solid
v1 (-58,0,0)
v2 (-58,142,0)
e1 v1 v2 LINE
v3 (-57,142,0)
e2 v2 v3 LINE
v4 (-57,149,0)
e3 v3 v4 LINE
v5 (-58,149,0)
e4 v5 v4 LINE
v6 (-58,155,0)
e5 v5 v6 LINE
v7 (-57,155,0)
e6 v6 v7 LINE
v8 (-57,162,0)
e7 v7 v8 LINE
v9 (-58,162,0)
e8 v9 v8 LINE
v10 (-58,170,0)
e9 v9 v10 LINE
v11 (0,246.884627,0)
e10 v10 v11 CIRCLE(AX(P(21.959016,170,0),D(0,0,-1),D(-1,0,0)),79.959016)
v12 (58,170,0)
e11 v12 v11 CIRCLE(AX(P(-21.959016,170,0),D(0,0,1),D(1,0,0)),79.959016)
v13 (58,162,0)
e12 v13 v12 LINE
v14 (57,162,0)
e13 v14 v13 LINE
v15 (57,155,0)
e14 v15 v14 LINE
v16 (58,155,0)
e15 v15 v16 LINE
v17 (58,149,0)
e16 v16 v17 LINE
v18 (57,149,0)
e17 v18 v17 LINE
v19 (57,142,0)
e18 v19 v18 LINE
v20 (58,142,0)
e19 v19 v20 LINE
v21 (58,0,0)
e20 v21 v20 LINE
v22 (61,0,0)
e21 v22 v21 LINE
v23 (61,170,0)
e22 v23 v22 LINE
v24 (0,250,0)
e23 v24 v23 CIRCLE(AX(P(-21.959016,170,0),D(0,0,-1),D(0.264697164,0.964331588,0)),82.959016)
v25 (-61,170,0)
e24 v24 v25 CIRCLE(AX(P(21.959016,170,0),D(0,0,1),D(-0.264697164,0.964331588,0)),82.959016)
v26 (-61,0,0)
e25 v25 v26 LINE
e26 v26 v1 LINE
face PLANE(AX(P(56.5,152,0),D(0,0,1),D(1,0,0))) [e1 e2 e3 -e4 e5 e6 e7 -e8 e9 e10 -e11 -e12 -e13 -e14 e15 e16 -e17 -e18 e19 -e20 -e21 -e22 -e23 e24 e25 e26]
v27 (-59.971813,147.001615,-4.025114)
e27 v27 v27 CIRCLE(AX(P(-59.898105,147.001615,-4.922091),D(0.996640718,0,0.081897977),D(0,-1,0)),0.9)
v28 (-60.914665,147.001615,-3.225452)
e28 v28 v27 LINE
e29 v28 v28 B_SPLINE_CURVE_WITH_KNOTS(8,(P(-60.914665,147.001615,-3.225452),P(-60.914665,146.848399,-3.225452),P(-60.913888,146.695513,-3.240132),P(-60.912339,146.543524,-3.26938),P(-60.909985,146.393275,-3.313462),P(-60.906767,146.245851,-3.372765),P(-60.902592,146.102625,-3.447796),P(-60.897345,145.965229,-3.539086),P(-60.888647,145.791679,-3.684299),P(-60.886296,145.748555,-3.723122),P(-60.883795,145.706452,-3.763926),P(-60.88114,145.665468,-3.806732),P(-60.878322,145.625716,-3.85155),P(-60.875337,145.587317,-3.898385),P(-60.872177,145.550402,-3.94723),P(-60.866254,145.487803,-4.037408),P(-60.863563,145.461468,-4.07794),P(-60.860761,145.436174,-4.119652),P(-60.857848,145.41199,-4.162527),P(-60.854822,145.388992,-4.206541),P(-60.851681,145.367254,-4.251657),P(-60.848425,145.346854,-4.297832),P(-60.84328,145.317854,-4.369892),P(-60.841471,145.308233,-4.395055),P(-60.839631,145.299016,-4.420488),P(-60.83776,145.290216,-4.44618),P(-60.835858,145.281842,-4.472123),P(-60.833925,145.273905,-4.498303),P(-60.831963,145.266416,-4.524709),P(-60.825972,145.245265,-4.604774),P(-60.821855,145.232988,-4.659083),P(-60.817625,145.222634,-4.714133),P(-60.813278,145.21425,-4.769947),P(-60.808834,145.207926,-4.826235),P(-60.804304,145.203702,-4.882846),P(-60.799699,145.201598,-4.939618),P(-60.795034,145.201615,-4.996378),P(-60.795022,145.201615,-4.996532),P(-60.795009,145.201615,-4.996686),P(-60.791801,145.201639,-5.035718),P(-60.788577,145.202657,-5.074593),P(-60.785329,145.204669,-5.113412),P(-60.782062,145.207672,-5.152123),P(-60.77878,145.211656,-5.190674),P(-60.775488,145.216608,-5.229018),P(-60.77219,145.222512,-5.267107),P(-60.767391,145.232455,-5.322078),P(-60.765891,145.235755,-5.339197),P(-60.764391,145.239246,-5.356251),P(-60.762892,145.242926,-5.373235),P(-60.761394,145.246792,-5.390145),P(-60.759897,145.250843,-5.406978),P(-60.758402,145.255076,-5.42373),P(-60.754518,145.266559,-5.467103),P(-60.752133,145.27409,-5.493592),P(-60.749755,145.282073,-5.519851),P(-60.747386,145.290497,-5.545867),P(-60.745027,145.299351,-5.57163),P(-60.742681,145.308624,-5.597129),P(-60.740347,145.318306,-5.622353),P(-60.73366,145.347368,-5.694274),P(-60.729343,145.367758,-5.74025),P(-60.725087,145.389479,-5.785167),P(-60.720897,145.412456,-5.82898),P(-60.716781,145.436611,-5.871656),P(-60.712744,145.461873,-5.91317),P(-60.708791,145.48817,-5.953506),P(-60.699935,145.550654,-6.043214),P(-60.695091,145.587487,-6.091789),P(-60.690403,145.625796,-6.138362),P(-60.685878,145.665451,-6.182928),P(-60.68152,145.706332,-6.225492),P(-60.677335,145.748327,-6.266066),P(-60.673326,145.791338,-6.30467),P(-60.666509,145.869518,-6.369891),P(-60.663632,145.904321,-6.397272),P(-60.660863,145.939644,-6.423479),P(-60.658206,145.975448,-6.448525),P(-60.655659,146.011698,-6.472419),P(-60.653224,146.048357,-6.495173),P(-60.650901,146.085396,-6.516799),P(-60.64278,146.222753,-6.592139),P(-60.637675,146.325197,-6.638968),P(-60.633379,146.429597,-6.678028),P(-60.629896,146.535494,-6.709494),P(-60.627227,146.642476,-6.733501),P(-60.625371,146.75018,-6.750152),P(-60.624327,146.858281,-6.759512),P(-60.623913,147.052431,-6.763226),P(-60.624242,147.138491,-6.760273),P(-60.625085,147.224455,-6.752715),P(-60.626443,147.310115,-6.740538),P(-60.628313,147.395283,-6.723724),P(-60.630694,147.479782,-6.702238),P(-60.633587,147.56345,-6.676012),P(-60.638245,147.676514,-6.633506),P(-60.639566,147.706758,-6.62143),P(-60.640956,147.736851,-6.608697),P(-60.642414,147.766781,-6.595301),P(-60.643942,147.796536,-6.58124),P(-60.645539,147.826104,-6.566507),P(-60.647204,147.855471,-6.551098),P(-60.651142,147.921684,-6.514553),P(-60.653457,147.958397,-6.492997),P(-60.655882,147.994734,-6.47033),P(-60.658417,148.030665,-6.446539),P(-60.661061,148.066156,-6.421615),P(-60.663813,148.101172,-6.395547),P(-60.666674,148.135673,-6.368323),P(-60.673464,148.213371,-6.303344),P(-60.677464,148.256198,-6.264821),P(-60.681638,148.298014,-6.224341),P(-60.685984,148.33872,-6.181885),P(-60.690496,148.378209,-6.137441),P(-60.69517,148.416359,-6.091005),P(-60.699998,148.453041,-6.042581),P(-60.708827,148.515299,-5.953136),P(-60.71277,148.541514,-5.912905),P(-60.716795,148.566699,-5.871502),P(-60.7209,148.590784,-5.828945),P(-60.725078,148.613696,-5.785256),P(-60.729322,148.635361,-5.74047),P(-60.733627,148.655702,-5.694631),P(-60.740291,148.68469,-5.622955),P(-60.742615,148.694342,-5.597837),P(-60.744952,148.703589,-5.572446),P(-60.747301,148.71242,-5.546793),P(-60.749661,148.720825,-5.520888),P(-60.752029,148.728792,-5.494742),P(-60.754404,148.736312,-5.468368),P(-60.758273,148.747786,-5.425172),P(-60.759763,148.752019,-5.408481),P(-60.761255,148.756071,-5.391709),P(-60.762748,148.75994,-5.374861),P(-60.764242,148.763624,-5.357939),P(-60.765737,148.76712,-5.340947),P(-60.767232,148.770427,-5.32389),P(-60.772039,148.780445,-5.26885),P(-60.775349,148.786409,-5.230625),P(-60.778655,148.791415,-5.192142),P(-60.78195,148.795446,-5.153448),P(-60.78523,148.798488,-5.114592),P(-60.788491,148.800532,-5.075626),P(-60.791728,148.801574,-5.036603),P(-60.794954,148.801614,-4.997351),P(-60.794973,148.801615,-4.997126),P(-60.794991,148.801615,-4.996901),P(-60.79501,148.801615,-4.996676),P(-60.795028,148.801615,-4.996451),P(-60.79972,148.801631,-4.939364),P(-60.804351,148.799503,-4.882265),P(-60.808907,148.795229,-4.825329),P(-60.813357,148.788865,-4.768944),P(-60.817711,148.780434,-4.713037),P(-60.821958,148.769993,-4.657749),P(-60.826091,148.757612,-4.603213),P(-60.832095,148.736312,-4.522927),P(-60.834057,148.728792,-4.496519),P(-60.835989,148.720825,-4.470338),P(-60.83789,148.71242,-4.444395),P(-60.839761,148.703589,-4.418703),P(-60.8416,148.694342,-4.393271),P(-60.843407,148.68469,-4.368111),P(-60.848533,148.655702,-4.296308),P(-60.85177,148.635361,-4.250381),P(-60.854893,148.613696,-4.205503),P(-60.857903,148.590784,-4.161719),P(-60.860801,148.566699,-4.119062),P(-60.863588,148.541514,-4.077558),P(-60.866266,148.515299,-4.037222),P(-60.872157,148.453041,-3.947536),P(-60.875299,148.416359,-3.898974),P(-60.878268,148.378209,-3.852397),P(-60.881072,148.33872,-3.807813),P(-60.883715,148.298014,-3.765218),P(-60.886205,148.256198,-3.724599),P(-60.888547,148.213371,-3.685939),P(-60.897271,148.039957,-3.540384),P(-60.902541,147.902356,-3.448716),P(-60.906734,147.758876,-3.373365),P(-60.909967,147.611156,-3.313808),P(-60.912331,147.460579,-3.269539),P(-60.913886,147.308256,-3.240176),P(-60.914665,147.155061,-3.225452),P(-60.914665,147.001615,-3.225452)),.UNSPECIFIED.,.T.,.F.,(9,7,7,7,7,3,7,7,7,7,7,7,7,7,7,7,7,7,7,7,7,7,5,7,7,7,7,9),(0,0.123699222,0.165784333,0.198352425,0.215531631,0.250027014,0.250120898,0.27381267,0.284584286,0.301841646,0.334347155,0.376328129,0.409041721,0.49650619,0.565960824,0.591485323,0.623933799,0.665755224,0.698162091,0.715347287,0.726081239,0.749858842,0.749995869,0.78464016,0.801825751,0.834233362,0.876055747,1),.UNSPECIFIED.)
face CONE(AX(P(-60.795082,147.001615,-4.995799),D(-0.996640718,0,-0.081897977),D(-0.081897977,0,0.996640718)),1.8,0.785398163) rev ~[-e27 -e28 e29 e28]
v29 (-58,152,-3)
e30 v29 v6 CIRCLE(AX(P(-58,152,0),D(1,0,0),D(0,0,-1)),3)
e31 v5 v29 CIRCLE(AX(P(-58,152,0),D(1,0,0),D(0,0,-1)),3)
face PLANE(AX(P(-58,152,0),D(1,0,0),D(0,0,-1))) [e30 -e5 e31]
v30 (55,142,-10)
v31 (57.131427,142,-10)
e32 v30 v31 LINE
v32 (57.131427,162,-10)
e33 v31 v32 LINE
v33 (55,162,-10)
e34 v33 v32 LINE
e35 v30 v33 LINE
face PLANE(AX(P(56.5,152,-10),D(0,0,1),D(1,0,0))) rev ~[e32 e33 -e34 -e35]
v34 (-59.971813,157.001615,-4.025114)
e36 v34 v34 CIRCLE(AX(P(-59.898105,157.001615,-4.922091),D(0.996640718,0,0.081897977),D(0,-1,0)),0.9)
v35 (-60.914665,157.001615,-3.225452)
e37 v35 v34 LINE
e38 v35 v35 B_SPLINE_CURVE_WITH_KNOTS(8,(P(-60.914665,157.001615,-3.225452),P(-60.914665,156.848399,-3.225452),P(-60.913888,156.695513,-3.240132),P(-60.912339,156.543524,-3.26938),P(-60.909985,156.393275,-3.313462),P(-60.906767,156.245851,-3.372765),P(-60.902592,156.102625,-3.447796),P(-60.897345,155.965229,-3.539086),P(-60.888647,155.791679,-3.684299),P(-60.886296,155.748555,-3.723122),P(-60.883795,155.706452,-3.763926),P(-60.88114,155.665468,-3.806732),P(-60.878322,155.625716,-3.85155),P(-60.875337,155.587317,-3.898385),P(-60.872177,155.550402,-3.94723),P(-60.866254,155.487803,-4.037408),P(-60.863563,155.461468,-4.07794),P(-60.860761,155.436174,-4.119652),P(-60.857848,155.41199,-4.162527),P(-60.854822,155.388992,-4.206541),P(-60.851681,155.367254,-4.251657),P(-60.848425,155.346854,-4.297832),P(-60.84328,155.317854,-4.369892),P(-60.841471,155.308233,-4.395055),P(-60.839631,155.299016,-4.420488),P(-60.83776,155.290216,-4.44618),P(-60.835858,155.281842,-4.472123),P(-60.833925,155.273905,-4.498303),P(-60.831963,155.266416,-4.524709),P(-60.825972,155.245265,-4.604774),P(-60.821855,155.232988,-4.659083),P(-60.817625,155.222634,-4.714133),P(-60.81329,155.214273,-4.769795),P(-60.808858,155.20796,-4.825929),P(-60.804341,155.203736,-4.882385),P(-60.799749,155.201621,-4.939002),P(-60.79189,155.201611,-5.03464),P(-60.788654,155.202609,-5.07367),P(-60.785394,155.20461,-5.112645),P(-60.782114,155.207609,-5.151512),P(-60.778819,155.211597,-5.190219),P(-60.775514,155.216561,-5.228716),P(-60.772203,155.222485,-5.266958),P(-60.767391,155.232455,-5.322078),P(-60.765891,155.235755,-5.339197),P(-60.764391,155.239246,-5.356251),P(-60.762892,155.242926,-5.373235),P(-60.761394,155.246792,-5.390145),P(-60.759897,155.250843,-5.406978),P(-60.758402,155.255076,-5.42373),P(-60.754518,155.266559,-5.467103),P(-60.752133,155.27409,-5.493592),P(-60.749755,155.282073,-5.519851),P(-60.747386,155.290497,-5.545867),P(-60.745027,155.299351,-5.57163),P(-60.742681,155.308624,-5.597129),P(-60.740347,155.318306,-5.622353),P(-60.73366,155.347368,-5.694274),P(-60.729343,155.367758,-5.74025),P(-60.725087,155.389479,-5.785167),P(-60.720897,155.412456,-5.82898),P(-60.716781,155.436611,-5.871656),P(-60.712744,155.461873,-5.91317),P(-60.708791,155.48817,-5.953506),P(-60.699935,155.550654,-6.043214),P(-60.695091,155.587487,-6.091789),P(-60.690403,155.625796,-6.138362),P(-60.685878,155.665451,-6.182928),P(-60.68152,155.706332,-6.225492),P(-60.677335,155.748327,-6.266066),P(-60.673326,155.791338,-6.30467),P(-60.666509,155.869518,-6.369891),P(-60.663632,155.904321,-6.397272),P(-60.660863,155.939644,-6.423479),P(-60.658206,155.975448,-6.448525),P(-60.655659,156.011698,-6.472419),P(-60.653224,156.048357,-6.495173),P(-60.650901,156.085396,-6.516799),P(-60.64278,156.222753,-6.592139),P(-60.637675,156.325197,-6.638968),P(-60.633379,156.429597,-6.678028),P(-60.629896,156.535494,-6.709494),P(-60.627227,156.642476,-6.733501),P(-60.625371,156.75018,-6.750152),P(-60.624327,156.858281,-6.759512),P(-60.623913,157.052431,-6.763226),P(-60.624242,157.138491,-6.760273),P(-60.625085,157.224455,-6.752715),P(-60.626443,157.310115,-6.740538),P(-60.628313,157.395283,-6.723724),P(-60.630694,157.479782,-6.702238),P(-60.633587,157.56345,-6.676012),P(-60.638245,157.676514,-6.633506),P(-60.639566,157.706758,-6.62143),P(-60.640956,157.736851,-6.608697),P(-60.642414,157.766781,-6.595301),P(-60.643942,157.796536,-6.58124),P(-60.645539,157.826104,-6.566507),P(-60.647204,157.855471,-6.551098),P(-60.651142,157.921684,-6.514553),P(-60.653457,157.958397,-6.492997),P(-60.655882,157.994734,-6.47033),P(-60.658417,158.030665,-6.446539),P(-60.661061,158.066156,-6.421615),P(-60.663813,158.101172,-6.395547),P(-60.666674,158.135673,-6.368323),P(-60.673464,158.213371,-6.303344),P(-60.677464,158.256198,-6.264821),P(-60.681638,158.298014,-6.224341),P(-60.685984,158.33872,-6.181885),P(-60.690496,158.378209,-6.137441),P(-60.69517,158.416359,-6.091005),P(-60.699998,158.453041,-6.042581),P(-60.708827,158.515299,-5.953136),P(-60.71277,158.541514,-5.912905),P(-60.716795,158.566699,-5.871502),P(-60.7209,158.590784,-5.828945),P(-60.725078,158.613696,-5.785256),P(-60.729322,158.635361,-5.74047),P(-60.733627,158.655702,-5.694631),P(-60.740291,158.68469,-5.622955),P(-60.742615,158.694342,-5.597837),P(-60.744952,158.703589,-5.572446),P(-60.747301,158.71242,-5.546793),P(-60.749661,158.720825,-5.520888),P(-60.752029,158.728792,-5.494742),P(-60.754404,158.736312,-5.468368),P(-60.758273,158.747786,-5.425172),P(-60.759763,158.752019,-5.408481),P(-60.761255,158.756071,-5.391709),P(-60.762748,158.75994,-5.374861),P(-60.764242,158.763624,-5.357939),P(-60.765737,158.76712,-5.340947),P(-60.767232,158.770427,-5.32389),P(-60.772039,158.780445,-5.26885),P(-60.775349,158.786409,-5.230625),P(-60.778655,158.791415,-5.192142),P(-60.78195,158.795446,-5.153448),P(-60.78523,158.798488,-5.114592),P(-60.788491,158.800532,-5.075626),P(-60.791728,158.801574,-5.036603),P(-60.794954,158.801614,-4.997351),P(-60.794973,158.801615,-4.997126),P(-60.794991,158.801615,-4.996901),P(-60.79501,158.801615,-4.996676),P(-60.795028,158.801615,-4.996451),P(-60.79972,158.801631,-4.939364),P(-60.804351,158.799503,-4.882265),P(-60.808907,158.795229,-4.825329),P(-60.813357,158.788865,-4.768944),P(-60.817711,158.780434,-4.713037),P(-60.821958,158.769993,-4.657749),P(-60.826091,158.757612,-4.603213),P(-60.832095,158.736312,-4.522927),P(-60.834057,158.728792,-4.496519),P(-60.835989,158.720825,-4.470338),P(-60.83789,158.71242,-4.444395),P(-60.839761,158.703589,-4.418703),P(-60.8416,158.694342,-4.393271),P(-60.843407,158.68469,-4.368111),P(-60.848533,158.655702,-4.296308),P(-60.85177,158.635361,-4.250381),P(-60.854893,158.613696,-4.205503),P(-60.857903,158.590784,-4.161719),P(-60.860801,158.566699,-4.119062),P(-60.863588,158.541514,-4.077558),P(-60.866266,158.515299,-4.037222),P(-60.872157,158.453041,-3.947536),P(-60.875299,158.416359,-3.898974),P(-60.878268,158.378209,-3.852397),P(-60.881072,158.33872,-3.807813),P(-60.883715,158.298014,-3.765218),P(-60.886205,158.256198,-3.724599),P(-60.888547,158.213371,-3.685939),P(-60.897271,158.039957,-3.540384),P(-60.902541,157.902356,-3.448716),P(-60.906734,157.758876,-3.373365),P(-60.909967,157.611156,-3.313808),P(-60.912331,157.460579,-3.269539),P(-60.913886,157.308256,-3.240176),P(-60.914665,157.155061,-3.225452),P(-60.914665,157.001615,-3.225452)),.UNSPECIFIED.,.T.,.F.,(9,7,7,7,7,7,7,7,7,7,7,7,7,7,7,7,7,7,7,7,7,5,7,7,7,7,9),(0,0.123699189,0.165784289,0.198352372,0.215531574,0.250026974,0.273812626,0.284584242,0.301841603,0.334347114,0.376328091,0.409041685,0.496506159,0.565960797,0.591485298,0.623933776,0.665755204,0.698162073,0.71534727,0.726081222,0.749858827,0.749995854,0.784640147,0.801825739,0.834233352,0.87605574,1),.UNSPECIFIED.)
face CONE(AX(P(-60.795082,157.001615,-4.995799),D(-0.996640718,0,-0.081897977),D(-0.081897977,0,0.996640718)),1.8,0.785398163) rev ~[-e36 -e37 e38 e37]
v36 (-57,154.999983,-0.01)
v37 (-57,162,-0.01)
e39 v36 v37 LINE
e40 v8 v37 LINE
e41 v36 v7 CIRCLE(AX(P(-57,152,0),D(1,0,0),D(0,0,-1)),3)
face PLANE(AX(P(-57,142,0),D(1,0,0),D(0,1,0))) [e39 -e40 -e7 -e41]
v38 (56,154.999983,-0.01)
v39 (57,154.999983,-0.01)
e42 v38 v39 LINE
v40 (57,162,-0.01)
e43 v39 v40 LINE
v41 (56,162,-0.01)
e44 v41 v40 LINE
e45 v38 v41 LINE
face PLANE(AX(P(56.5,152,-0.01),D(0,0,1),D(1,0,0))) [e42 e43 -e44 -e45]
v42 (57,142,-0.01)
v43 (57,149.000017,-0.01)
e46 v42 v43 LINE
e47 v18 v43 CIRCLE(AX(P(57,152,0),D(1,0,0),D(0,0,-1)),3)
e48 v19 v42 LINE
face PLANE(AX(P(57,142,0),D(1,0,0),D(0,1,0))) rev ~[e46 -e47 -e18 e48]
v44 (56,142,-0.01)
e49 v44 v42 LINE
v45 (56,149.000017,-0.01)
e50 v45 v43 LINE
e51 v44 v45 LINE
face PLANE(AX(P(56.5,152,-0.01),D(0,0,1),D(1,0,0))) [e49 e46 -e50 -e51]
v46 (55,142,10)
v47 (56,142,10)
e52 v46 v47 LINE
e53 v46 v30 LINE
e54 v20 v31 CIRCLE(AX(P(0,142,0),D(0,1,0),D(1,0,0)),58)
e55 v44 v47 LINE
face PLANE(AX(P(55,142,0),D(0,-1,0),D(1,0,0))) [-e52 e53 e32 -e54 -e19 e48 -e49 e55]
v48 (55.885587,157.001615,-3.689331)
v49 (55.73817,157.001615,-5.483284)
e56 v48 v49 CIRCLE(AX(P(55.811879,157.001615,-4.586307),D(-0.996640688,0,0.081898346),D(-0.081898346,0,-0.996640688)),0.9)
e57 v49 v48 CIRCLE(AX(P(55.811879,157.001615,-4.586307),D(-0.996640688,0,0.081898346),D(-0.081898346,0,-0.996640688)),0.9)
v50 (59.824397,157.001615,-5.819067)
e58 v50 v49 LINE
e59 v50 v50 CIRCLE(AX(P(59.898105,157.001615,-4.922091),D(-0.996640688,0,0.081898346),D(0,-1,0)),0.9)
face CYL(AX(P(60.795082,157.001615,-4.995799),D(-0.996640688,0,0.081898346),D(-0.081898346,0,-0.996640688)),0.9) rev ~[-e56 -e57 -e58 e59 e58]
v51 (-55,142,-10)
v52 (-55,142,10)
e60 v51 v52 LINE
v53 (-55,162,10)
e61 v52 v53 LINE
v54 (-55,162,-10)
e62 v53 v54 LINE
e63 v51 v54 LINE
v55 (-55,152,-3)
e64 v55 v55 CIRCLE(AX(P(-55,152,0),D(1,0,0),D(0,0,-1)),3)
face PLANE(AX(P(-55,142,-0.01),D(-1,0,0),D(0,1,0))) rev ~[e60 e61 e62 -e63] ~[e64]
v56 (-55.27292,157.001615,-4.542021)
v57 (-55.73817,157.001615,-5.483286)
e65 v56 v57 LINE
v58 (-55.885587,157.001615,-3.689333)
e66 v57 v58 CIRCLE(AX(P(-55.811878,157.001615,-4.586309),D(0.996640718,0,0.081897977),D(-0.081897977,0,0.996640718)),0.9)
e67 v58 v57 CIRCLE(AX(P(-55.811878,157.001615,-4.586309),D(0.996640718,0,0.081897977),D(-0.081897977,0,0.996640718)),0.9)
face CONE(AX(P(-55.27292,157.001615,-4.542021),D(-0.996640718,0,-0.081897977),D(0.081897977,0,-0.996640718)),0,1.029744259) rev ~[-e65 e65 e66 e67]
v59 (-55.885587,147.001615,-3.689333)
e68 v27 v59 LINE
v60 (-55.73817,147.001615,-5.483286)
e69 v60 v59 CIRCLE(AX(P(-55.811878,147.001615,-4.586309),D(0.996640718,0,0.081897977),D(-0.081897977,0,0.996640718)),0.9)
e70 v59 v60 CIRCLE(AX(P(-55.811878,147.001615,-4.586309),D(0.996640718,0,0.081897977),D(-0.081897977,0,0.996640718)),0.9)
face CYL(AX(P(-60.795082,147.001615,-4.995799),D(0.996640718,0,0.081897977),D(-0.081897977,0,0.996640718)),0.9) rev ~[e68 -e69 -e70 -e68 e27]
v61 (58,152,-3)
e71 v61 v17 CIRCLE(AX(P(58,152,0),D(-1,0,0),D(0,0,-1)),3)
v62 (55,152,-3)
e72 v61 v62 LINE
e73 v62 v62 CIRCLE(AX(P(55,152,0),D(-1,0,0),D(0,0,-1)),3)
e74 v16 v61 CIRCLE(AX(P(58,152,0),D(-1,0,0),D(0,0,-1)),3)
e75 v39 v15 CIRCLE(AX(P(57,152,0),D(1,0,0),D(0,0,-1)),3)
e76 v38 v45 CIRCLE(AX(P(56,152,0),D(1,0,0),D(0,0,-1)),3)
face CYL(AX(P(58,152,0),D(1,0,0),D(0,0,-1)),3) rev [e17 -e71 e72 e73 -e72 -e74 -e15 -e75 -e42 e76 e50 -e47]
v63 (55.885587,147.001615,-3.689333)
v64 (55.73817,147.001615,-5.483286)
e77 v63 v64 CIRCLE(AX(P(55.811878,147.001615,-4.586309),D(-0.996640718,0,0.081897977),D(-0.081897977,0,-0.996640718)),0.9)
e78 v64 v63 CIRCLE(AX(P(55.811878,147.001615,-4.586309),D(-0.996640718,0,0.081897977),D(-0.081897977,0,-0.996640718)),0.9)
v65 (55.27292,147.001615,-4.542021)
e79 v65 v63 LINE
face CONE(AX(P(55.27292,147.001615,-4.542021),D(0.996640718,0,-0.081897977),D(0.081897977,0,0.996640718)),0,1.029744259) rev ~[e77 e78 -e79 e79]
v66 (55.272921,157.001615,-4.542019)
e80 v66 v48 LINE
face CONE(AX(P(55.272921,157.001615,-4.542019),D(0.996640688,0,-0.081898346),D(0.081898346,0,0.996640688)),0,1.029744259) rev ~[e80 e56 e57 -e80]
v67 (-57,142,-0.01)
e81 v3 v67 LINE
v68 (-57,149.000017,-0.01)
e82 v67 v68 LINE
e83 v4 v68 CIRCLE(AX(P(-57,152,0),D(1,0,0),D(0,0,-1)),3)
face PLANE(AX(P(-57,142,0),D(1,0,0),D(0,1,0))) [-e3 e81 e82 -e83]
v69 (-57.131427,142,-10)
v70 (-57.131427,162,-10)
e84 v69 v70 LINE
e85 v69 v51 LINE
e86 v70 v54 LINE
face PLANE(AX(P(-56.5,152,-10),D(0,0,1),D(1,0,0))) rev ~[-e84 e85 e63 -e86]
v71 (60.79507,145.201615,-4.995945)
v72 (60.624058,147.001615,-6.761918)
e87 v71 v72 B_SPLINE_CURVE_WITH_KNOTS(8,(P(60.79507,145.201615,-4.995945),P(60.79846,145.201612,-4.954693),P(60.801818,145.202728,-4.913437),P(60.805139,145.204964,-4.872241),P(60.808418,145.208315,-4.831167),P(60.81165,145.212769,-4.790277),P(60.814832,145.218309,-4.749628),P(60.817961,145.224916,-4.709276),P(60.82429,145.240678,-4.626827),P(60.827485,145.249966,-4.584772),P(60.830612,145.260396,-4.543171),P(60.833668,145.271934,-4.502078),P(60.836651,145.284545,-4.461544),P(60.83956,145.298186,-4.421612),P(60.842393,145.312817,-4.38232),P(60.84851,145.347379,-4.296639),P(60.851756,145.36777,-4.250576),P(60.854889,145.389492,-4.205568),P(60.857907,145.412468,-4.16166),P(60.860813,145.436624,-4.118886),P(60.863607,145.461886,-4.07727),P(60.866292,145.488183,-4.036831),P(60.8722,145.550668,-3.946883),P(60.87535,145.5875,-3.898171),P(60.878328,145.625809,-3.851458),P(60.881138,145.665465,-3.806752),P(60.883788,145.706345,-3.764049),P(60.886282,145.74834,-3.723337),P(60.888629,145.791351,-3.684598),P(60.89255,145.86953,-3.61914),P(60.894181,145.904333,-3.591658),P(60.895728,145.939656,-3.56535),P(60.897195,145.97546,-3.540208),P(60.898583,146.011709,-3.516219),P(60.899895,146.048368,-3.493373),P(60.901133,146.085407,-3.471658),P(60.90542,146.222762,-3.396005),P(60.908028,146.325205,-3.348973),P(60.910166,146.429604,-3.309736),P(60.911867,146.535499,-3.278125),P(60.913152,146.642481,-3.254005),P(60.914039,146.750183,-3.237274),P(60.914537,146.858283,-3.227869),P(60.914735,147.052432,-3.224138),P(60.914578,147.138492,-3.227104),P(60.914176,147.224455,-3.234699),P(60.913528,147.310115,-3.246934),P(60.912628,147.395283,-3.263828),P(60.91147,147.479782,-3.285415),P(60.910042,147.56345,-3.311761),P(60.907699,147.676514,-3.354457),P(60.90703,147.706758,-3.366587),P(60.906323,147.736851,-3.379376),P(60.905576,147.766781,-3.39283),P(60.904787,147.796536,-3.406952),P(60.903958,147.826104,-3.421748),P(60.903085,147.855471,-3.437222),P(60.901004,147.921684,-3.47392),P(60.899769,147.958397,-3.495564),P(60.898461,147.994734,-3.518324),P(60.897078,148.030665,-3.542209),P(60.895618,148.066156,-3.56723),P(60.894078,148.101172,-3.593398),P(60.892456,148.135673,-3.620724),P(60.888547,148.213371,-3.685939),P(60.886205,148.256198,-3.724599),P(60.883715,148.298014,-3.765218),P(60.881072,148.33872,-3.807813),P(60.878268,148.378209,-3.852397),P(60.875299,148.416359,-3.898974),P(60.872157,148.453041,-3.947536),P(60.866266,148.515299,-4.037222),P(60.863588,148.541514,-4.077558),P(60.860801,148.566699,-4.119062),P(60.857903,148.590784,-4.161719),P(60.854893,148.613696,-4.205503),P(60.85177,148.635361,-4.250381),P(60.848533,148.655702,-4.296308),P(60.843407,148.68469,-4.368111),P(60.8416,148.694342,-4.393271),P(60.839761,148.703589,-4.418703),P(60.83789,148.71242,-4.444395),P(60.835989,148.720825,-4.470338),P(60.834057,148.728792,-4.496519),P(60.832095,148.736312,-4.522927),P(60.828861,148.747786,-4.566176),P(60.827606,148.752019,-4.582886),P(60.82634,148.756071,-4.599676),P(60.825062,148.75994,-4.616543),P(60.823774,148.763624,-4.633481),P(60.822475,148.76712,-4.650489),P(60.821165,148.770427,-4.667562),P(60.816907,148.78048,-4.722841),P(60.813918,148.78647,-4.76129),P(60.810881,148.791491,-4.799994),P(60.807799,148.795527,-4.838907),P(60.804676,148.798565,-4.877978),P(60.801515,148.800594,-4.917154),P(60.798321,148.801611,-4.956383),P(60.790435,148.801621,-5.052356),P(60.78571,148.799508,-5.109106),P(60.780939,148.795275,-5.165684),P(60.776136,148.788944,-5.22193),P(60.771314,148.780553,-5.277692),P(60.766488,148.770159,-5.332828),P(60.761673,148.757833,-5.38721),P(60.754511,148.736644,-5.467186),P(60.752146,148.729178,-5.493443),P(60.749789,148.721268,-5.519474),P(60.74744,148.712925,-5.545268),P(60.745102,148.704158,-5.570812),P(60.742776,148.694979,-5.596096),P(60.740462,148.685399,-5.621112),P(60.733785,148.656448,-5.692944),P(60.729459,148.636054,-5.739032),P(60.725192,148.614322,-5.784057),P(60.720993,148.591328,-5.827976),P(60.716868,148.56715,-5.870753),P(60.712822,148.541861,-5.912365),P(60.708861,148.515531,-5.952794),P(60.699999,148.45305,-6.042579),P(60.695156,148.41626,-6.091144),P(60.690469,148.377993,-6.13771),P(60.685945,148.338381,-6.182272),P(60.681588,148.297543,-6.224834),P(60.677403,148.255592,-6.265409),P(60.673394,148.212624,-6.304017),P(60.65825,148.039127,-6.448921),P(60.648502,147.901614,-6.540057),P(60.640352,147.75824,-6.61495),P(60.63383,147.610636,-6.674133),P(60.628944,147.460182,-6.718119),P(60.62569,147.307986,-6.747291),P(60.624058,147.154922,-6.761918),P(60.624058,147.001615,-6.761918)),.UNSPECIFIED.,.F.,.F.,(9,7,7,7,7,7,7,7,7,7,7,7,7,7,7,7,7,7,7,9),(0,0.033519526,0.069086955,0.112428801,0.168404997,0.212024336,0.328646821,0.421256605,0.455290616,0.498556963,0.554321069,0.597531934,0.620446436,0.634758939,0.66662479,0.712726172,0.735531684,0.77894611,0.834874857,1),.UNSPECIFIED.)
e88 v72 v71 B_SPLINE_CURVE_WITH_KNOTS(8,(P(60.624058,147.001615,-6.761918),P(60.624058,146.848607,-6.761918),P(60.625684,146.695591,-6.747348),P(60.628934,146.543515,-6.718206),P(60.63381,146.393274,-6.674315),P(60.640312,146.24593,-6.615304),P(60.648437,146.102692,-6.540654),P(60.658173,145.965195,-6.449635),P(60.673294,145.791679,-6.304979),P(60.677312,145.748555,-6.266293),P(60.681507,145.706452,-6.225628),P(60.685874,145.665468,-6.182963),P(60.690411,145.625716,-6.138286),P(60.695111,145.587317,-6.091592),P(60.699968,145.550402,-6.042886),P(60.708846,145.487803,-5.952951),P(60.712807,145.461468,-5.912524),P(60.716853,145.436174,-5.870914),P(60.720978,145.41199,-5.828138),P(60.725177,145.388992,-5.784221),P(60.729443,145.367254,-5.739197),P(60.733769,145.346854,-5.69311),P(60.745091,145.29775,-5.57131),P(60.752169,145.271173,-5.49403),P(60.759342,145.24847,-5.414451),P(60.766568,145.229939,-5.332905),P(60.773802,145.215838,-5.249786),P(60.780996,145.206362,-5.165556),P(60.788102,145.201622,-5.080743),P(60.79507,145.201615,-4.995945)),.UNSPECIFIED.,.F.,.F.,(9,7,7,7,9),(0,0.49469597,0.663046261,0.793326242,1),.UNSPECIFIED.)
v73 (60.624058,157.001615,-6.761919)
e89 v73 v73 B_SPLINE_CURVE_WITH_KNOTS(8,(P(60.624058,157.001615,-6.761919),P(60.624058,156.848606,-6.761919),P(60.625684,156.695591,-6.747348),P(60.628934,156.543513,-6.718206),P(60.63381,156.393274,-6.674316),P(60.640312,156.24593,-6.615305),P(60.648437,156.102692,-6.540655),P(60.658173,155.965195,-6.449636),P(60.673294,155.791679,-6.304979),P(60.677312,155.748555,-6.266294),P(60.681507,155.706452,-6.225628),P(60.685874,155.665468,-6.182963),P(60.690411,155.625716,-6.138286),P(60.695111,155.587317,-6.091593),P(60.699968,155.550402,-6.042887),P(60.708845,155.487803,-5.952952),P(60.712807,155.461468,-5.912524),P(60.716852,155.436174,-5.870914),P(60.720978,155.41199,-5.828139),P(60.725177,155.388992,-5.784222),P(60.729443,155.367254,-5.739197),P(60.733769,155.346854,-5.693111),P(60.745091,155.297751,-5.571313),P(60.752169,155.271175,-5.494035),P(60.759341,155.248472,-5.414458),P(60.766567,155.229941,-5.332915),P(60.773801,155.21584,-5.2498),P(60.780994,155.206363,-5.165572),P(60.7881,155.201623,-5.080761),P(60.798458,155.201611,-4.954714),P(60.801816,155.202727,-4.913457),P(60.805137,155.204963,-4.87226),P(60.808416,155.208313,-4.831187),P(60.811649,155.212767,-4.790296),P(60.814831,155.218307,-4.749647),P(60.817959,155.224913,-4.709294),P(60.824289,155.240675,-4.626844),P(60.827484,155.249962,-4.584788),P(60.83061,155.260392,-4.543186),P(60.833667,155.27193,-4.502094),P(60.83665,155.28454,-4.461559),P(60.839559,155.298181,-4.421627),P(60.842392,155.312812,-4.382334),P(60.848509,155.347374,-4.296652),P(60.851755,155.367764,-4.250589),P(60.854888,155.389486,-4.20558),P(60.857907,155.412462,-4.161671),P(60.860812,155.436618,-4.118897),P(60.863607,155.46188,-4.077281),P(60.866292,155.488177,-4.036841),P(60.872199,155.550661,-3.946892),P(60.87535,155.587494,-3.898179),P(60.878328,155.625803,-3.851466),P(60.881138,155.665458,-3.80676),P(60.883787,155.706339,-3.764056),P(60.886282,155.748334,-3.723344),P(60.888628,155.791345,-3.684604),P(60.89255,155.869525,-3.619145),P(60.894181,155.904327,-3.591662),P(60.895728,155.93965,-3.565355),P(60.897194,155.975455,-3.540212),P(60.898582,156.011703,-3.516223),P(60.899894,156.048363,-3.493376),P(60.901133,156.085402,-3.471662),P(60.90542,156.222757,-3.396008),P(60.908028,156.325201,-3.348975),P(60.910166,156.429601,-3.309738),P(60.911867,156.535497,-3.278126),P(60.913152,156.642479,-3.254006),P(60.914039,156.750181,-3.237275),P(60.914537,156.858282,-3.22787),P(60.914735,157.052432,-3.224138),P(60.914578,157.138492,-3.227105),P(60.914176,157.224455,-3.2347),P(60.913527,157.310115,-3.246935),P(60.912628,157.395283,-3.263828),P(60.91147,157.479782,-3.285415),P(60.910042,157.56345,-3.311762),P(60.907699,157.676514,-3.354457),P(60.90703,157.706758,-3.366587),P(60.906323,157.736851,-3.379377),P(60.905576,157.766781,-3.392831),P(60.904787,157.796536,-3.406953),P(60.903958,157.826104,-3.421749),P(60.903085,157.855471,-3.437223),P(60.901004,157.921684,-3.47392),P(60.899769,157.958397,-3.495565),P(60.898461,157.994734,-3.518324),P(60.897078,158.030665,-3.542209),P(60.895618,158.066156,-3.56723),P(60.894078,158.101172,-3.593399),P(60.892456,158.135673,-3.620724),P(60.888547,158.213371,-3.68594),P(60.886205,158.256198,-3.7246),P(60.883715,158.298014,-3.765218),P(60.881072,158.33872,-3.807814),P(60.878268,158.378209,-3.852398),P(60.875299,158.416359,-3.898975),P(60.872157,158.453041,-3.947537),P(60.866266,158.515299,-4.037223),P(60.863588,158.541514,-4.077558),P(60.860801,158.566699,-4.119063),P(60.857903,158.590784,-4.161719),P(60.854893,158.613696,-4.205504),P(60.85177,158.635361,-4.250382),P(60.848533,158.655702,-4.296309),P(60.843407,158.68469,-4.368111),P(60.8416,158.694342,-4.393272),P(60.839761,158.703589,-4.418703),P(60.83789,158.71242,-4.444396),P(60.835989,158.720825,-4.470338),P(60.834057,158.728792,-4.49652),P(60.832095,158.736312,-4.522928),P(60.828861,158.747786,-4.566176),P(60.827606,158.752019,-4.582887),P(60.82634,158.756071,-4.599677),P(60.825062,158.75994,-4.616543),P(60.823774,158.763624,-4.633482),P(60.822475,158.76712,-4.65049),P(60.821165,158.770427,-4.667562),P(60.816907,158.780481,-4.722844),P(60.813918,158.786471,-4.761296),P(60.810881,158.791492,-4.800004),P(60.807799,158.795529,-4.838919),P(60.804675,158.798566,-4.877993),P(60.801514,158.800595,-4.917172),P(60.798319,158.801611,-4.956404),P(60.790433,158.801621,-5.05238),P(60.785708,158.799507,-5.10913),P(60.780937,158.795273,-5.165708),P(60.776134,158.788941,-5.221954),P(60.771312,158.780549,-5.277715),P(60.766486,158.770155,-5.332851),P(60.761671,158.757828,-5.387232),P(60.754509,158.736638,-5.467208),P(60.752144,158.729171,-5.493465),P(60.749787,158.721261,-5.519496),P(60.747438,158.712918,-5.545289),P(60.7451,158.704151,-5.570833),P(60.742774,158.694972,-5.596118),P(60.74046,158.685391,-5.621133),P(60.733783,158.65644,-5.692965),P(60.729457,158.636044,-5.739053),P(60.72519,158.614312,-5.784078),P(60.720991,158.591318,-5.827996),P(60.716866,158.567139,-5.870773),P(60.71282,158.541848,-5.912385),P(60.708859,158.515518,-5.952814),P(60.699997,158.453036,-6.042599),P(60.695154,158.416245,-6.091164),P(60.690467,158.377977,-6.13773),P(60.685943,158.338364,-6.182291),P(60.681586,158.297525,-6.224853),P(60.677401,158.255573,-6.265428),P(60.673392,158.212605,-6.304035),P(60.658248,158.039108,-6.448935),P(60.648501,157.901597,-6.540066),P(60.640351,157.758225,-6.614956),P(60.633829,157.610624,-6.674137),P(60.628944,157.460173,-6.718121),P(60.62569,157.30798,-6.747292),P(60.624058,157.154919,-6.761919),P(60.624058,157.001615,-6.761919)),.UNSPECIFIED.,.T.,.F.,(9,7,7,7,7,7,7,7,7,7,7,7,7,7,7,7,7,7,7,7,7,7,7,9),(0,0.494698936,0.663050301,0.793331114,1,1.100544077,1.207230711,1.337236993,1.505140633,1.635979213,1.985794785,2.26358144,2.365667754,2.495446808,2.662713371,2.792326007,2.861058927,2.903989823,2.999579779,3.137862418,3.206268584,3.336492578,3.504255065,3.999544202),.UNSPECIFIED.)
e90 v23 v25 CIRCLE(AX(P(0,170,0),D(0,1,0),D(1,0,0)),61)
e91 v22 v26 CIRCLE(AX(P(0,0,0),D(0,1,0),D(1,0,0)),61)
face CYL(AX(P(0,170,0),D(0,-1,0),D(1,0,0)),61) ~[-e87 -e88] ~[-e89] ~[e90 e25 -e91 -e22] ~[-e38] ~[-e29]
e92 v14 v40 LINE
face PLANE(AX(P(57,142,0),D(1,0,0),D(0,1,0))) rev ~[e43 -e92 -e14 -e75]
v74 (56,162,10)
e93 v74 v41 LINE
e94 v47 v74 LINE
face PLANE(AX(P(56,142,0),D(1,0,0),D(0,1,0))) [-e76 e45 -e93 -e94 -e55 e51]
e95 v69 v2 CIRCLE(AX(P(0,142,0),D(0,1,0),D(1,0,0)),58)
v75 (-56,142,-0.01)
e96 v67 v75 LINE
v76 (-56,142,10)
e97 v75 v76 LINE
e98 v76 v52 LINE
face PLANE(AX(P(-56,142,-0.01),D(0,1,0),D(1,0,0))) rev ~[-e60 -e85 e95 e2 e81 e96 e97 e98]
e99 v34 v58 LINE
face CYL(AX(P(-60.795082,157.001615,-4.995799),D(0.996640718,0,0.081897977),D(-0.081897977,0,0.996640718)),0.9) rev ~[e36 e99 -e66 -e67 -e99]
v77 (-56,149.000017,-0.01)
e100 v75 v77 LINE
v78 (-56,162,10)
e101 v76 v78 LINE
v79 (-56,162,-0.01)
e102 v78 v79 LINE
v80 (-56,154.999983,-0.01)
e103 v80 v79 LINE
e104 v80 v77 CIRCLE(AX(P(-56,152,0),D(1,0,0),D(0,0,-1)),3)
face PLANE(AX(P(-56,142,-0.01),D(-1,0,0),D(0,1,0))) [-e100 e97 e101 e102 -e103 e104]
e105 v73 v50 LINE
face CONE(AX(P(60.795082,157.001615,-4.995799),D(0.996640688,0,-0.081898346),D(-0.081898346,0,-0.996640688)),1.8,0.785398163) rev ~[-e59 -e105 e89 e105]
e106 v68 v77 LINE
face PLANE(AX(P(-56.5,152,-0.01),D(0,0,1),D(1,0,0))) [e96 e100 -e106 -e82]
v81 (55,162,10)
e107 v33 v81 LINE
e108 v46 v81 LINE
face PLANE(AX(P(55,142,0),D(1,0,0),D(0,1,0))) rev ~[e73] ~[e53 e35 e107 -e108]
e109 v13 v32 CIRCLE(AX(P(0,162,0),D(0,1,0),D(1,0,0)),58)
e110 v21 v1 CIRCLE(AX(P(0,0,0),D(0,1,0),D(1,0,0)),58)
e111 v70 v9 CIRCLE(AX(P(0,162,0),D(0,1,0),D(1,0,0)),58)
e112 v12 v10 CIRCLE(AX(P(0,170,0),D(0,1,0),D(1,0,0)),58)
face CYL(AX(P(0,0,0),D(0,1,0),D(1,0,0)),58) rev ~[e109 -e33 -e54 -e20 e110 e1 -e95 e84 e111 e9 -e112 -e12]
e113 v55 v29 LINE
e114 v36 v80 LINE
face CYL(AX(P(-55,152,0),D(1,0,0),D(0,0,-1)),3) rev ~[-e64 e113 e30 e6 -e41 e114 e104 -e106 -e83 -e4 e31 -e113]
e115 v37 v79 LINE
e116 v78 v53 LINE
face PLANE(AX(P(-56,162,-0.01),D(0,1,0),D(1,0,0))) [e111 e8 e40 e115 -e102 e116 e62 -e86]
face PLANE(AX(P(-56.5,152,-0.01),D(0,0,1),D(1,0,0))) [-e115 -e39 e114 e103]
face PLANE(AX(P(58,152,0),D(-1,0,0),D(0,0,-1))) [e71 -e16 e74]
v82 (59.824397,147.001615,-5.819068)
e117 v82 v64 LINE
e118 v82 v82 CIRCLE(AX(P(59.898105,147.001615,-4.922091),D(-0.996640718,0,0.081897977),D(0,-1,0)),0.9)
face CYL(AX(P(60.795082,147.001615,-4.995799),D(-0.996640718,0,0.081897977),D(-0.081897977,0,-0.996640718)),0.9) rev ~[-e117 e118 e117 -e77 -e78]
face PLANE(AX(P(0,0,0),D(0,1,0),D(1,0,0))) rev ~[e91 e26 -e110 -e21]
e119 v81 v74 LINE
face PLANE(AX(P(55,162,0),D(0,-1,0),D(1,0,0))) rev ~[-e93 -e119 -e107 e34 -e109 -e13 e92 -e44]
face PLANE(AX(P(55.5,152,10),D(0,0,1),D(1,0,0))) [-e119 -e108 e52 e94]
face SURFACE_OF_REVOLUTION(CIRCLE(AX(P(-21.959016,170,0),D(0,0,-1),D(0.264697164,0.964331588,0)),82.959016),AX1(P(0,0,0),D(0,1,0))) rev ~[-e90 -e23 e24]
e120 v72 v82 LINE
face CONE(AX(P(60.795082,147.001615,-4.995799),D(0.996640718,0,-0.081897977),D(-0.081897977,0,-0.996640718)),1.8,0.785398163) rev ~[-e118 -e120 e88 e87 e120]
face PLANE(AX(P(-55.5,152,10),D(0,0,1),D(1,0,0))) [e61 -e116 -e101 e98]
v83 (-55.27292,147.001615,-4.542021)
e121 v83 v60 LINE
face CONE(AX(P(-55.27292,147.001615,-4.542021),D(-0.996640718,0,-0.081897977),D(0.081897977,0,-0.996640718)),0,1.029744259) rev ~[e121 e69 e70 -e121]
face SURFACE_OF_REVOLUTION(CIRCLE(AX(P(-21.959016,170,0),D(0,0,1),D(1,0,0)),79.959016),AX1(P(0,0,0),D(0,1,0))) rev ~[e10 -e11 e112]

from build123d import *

# Parameters (mm, degrees)
REVOLVE1_ANGLE                                       = 180
SKETCH2_W                                            = 3
SKETCH2_H                                            = 20
BOSS_EXTRUDE1_DEPTH                                  = 10
SKETCH4_W                                            = 1
SKETCH4_H                                            = 20
CUT_EXTRUDE1_DEPTH                                   = 0.01
CSK_FOR_M1_6_COUNTERSUNK_FLAT_HEAD_SCREW_D           = 1.8
CSK_FOR_M1_6_COUNTERSUNK_FLAT_HEAD_SCREW_DEPTH       = 5
CSK_FOR_M1_6_COUNTERSUNK_FLAT_HEAD_SCREW_CSINK_D     = 3.6
CSK_FOR_M1_6_COUNTERSUNK_FLAT_HEAD_SCREW_CSINK_ANGLE = 90
CSK_FOR_M1_6_COUNTERSUNK_FLAT_HEAD_SCREW_TIP         = 0.540774557
CSK_FOR_M1_6_COUNTERSUNK_FLAT_HEAD_S_2_D             = 1.8
CSK_FOR_M1_6_COUNTERSUNK_FLAT_HEAD_S_2_DEPTH         = 5
CSK_FOR_M1_6_COUNTERSUNK_FLAT_HEAD_S_2_CSINK_D       = 3.6
CSK_FOR_M1_6_COUNTERSUNK_FLAT_HEAD_S_2_CSINK_ANGLE   = 90
CSK_FOR_M1_6_COUNTERSUNK_FLAT_HEAD_S_2_TIP           = 0.540774557
CSK_FOR_M1_6_COUNTERSUNK_FLAT_HEAD_S_3_D             = 1.8
CSK_FOR_M1_6_COUNTERSUNK_FLAT_HEAD_S_3_DEPTH         = 5
CSK_FOR_M1_6_COUNTERSUNK_FLAT_HEAD_S_3_CSINK_D       = 3.6
CSK_FOR_M1_6_COUNTERSUNK_FLAT_HEAD_S_3_CSINK_ANGLE   = 90
CSK_FOR_M1_6_COUNTERSUNK_FLAT_HEAD_S_3_TIP           = 0.540774557
SKETCH10_W                                           = 1
SKETCH10_H                                           = 20
BOSS_EXTRUDE2_DEPTH                                  = 10.01
SKETCH12_R                                           = 3
CUT_EXTRUDE4_DEPTH                                   = 3
CUT_EXTRUDE5_START                                   = -3
SKETCH13_R                                           = 3
CUT_EXTRUDE5_DEPTH                                   = 3


with BuildPart() as part:
    # Sketch1 → Revolve1 (revolve)
    with BuildSketch(Plane.XY):
        with BuildLine():
            Line((61, 170), (61, 0))
            Line((61, 0), (58, 0))
            Line((58, 0), (58, 170))
            ThreePointArc((58, 170), (41.873834296, 218.154039035), (0, 246.884627213))
            Line((0, 246.884627213), (0, 250))
            ThreePointArc((0, 250), (44.010282534, 220.301590432), (61, 170))
        make_face()
    revolve(axis=Axis((0, 0, 0), (0, 1, 0)), revolution_arc=REVOLVE1_ANGLE)

    # Sketch2 → Boss-Extrude1 (add)
    with BuildSketch(Plane.XY):
        with Locations((56.5, 152)):
            Rectangle(SKETCH2_W, SKETCH2_H)
        with Locations((-56.5, 152)):
            Rectangle(SKETCH2_W, SKETCH2_H)
    extrude(amount=-BOSS_EXTRUDE1_DEPTH)

    # Sketch4 → Cut-Extrude1 (cut)
    with BuildSketch(Plane.XY):
        with Locations((-56.5, 152)):
            Rectangle(SKETCH4_W, SKETCH4_H)
        with Locations((56.5, 152)):
            Rectangle(SKETCH4_W, SKETCH4_H)
    extrude(amount=-CUT_EXTRUDE1_DEPTH, mode=Mode.SUBTRACT)

    # CSK for M1.6 Countersunk Flat Head Screw2
    with Locations(Plane(origin=(60.795081967, 157.001615154, -4.995799095), x_dir=(0.081898345823, 0, 0.996640687987), z_dir=(0.996640687987, 0, -0.081898345823))):
        with Locations((0, 0)):
            CounterSinkHole(CSK_FOR_M1_6_COUNTERSUNK_FLAT_HEAD_SCREW_D / 2, CSK_FOR_M1_6_COUNTERSUNK_FLAT_HEAD_SCREW_CSINK_D / 2, depth=CSK_FOR_M1_6_COUNTERSUNK_FLAT_HEAD_SCREW_DEPTH, counter_sink_angle=CSK_FOR_M1_6_COUNTERSUNK_FLAT_HEAD_SCREW_CSINK_ANGLE)
            with Locations((0, 0, -(CSK_FOR_M1_6_COUNTERSUNK_FLAT_HEAD_SCREW_DEPTH + CSK_FOR_M1_6_COUNTERSUNK_FLAT_HEAD_SCREW_TIP / 2))):  # 118° drill point
                Cone(0, CSK_FOR_M1_6_COUNTERSUNK_FLAT_HEAD_SCREW_D / 2, CSK_FOR_M1_6_COUNTERSUNK_FLAT_HEAD_SCREW_TIP, mode=Mode.SUBTRACT)

    # CSK for M1.6 Countersunk Flat Head S 2
    with Locations(Plane(origin=(60.795081967, 147.001615154, -4.995799095), x_dir=(0.081897976852, 0, 0.996640718307), z_dir=(0.996640718307, 0, -0.081897976852))):
        with Locations((0, 0)):
            CounterSinkHole(CSK_FOR_M1_6_COUNTERSUNK_FLAT_HEAD_S_2_D / 2, CSK_FOR_M1_6_COUNTERSUNK_FLAT_HEAD_S_2_CSINK_D / 2, depth=CSK_FOR_M1_6_COUNTERSUNK_FLAT_HEAD_S_2_DEPTH, counter_sink_angle=CSK_FOR_M1_6_COUNTERSUNK_FLAT_HEAD_S_2_CSINK_ANGLE)
            with Locations((0, 0, -(CSK_FOR_M1_6_COUNTERSUNK_FLAT_HEAD_S_2_DEPTH + CSK_FOR_M1_6_COUNTERSUNK_FLAT_HEAD_S_2_TIP / 2))):  # 118° drill point
                Cone(0, CSK_FOR_M1_6_COUNTERSUNK_FLAT_HEAD_S_2_D / 2, CSK_FOR_M1_6_COUNTERSUNK_FLAT_HEAD_S_2_TIP, mode=Mode.SUBTRACT)

    # CSK for M1.6 Countersunk Flat Head S 3
    with Locations(Plane(origin=(-60.795081967, 147.001615154, -4.995799095), x_dir=(0.081897976852, 0, -0.996640718307), z_dir=(-0.996640718307, 0, -0.081897976852))):
        with Locations((0, 0), (0, -10)):
            CounterSinkHole(CSK_FOR_M1_6_COUNTERSUNK_FLAT_HEAD_S_3_D / 2, CSK_FOR_M1_6_COUNTERSUNK_FLAT_HEAD_S_3_CSINK_D / 2, depth=CSK_FOR_M1_6_COUNTERSUNK_FLAT_HEAD_S_3_DEPTH, counter_sink_angle=CSK_FOR_M1_6_COUNTERSUNK_FLAT_HEAD_S_3_CSINK_ANGLE)
            with Locations((0, 0, -(CSK_FOR_M1_6_COUNTERSUNK_FLAT_HEAD_S_3_DEPTH + CSK_FOR_M1_6_COUNTERSUNK_FLAT_HEAD_S_3_TIP / 2))):  # 118° drill point
                Cone(0, CSK_FOR_M1_6_COUNTERSUNK_FLAT_HEAD_S_3_D / 2, CSK_FOR_M1_6_COUNTERSUNK_FLAT_HEAD_S_3_TIP, mode=Mode.SUBTRACT)

    # Sketch10 → Boss-Extrude2 (add)
    with BuildSketch(Plane.XY.offset(-0.01)):
        with Locations((-55.5, 152)):
            Rectangle(SKETCH10_W, SKETCH10_H)
        with Locations((55.5, 152)):
            Rectangle(SKETCH10_W, SKETCH10_H)
    extrude(amount=BOSS_EXTRUDE2_DEPTH)

    # Sketch12 → Cut-Extrude4 (cut)
    with BuildSketch(Plane(origin=(-55, 0, 0), x_dir=(0, 0, -1), z_dir=(1, 0, 0))):
        with Locations((0, 152)):
            Circle(SKETCH12_R)
    extrude(amount=-CUT_EXTRUDE4_DEPTH, mode=Mode.SUBTRACT)

    # Sketch13 → Cut-Extrude5 (cut)
    with BuildSketch(Plane.ZY.offset(-55).offset(CUT_EXTRUDE5_START)):
        with Locations(Location((0, 152, 0), (0, 0, 180))):
            Circle(SKETCH13_R)
    extrude(amount=CUT_EXTRUDE5_DEPTH, mode=Mode.SUBTRACT)


solid = part.part
